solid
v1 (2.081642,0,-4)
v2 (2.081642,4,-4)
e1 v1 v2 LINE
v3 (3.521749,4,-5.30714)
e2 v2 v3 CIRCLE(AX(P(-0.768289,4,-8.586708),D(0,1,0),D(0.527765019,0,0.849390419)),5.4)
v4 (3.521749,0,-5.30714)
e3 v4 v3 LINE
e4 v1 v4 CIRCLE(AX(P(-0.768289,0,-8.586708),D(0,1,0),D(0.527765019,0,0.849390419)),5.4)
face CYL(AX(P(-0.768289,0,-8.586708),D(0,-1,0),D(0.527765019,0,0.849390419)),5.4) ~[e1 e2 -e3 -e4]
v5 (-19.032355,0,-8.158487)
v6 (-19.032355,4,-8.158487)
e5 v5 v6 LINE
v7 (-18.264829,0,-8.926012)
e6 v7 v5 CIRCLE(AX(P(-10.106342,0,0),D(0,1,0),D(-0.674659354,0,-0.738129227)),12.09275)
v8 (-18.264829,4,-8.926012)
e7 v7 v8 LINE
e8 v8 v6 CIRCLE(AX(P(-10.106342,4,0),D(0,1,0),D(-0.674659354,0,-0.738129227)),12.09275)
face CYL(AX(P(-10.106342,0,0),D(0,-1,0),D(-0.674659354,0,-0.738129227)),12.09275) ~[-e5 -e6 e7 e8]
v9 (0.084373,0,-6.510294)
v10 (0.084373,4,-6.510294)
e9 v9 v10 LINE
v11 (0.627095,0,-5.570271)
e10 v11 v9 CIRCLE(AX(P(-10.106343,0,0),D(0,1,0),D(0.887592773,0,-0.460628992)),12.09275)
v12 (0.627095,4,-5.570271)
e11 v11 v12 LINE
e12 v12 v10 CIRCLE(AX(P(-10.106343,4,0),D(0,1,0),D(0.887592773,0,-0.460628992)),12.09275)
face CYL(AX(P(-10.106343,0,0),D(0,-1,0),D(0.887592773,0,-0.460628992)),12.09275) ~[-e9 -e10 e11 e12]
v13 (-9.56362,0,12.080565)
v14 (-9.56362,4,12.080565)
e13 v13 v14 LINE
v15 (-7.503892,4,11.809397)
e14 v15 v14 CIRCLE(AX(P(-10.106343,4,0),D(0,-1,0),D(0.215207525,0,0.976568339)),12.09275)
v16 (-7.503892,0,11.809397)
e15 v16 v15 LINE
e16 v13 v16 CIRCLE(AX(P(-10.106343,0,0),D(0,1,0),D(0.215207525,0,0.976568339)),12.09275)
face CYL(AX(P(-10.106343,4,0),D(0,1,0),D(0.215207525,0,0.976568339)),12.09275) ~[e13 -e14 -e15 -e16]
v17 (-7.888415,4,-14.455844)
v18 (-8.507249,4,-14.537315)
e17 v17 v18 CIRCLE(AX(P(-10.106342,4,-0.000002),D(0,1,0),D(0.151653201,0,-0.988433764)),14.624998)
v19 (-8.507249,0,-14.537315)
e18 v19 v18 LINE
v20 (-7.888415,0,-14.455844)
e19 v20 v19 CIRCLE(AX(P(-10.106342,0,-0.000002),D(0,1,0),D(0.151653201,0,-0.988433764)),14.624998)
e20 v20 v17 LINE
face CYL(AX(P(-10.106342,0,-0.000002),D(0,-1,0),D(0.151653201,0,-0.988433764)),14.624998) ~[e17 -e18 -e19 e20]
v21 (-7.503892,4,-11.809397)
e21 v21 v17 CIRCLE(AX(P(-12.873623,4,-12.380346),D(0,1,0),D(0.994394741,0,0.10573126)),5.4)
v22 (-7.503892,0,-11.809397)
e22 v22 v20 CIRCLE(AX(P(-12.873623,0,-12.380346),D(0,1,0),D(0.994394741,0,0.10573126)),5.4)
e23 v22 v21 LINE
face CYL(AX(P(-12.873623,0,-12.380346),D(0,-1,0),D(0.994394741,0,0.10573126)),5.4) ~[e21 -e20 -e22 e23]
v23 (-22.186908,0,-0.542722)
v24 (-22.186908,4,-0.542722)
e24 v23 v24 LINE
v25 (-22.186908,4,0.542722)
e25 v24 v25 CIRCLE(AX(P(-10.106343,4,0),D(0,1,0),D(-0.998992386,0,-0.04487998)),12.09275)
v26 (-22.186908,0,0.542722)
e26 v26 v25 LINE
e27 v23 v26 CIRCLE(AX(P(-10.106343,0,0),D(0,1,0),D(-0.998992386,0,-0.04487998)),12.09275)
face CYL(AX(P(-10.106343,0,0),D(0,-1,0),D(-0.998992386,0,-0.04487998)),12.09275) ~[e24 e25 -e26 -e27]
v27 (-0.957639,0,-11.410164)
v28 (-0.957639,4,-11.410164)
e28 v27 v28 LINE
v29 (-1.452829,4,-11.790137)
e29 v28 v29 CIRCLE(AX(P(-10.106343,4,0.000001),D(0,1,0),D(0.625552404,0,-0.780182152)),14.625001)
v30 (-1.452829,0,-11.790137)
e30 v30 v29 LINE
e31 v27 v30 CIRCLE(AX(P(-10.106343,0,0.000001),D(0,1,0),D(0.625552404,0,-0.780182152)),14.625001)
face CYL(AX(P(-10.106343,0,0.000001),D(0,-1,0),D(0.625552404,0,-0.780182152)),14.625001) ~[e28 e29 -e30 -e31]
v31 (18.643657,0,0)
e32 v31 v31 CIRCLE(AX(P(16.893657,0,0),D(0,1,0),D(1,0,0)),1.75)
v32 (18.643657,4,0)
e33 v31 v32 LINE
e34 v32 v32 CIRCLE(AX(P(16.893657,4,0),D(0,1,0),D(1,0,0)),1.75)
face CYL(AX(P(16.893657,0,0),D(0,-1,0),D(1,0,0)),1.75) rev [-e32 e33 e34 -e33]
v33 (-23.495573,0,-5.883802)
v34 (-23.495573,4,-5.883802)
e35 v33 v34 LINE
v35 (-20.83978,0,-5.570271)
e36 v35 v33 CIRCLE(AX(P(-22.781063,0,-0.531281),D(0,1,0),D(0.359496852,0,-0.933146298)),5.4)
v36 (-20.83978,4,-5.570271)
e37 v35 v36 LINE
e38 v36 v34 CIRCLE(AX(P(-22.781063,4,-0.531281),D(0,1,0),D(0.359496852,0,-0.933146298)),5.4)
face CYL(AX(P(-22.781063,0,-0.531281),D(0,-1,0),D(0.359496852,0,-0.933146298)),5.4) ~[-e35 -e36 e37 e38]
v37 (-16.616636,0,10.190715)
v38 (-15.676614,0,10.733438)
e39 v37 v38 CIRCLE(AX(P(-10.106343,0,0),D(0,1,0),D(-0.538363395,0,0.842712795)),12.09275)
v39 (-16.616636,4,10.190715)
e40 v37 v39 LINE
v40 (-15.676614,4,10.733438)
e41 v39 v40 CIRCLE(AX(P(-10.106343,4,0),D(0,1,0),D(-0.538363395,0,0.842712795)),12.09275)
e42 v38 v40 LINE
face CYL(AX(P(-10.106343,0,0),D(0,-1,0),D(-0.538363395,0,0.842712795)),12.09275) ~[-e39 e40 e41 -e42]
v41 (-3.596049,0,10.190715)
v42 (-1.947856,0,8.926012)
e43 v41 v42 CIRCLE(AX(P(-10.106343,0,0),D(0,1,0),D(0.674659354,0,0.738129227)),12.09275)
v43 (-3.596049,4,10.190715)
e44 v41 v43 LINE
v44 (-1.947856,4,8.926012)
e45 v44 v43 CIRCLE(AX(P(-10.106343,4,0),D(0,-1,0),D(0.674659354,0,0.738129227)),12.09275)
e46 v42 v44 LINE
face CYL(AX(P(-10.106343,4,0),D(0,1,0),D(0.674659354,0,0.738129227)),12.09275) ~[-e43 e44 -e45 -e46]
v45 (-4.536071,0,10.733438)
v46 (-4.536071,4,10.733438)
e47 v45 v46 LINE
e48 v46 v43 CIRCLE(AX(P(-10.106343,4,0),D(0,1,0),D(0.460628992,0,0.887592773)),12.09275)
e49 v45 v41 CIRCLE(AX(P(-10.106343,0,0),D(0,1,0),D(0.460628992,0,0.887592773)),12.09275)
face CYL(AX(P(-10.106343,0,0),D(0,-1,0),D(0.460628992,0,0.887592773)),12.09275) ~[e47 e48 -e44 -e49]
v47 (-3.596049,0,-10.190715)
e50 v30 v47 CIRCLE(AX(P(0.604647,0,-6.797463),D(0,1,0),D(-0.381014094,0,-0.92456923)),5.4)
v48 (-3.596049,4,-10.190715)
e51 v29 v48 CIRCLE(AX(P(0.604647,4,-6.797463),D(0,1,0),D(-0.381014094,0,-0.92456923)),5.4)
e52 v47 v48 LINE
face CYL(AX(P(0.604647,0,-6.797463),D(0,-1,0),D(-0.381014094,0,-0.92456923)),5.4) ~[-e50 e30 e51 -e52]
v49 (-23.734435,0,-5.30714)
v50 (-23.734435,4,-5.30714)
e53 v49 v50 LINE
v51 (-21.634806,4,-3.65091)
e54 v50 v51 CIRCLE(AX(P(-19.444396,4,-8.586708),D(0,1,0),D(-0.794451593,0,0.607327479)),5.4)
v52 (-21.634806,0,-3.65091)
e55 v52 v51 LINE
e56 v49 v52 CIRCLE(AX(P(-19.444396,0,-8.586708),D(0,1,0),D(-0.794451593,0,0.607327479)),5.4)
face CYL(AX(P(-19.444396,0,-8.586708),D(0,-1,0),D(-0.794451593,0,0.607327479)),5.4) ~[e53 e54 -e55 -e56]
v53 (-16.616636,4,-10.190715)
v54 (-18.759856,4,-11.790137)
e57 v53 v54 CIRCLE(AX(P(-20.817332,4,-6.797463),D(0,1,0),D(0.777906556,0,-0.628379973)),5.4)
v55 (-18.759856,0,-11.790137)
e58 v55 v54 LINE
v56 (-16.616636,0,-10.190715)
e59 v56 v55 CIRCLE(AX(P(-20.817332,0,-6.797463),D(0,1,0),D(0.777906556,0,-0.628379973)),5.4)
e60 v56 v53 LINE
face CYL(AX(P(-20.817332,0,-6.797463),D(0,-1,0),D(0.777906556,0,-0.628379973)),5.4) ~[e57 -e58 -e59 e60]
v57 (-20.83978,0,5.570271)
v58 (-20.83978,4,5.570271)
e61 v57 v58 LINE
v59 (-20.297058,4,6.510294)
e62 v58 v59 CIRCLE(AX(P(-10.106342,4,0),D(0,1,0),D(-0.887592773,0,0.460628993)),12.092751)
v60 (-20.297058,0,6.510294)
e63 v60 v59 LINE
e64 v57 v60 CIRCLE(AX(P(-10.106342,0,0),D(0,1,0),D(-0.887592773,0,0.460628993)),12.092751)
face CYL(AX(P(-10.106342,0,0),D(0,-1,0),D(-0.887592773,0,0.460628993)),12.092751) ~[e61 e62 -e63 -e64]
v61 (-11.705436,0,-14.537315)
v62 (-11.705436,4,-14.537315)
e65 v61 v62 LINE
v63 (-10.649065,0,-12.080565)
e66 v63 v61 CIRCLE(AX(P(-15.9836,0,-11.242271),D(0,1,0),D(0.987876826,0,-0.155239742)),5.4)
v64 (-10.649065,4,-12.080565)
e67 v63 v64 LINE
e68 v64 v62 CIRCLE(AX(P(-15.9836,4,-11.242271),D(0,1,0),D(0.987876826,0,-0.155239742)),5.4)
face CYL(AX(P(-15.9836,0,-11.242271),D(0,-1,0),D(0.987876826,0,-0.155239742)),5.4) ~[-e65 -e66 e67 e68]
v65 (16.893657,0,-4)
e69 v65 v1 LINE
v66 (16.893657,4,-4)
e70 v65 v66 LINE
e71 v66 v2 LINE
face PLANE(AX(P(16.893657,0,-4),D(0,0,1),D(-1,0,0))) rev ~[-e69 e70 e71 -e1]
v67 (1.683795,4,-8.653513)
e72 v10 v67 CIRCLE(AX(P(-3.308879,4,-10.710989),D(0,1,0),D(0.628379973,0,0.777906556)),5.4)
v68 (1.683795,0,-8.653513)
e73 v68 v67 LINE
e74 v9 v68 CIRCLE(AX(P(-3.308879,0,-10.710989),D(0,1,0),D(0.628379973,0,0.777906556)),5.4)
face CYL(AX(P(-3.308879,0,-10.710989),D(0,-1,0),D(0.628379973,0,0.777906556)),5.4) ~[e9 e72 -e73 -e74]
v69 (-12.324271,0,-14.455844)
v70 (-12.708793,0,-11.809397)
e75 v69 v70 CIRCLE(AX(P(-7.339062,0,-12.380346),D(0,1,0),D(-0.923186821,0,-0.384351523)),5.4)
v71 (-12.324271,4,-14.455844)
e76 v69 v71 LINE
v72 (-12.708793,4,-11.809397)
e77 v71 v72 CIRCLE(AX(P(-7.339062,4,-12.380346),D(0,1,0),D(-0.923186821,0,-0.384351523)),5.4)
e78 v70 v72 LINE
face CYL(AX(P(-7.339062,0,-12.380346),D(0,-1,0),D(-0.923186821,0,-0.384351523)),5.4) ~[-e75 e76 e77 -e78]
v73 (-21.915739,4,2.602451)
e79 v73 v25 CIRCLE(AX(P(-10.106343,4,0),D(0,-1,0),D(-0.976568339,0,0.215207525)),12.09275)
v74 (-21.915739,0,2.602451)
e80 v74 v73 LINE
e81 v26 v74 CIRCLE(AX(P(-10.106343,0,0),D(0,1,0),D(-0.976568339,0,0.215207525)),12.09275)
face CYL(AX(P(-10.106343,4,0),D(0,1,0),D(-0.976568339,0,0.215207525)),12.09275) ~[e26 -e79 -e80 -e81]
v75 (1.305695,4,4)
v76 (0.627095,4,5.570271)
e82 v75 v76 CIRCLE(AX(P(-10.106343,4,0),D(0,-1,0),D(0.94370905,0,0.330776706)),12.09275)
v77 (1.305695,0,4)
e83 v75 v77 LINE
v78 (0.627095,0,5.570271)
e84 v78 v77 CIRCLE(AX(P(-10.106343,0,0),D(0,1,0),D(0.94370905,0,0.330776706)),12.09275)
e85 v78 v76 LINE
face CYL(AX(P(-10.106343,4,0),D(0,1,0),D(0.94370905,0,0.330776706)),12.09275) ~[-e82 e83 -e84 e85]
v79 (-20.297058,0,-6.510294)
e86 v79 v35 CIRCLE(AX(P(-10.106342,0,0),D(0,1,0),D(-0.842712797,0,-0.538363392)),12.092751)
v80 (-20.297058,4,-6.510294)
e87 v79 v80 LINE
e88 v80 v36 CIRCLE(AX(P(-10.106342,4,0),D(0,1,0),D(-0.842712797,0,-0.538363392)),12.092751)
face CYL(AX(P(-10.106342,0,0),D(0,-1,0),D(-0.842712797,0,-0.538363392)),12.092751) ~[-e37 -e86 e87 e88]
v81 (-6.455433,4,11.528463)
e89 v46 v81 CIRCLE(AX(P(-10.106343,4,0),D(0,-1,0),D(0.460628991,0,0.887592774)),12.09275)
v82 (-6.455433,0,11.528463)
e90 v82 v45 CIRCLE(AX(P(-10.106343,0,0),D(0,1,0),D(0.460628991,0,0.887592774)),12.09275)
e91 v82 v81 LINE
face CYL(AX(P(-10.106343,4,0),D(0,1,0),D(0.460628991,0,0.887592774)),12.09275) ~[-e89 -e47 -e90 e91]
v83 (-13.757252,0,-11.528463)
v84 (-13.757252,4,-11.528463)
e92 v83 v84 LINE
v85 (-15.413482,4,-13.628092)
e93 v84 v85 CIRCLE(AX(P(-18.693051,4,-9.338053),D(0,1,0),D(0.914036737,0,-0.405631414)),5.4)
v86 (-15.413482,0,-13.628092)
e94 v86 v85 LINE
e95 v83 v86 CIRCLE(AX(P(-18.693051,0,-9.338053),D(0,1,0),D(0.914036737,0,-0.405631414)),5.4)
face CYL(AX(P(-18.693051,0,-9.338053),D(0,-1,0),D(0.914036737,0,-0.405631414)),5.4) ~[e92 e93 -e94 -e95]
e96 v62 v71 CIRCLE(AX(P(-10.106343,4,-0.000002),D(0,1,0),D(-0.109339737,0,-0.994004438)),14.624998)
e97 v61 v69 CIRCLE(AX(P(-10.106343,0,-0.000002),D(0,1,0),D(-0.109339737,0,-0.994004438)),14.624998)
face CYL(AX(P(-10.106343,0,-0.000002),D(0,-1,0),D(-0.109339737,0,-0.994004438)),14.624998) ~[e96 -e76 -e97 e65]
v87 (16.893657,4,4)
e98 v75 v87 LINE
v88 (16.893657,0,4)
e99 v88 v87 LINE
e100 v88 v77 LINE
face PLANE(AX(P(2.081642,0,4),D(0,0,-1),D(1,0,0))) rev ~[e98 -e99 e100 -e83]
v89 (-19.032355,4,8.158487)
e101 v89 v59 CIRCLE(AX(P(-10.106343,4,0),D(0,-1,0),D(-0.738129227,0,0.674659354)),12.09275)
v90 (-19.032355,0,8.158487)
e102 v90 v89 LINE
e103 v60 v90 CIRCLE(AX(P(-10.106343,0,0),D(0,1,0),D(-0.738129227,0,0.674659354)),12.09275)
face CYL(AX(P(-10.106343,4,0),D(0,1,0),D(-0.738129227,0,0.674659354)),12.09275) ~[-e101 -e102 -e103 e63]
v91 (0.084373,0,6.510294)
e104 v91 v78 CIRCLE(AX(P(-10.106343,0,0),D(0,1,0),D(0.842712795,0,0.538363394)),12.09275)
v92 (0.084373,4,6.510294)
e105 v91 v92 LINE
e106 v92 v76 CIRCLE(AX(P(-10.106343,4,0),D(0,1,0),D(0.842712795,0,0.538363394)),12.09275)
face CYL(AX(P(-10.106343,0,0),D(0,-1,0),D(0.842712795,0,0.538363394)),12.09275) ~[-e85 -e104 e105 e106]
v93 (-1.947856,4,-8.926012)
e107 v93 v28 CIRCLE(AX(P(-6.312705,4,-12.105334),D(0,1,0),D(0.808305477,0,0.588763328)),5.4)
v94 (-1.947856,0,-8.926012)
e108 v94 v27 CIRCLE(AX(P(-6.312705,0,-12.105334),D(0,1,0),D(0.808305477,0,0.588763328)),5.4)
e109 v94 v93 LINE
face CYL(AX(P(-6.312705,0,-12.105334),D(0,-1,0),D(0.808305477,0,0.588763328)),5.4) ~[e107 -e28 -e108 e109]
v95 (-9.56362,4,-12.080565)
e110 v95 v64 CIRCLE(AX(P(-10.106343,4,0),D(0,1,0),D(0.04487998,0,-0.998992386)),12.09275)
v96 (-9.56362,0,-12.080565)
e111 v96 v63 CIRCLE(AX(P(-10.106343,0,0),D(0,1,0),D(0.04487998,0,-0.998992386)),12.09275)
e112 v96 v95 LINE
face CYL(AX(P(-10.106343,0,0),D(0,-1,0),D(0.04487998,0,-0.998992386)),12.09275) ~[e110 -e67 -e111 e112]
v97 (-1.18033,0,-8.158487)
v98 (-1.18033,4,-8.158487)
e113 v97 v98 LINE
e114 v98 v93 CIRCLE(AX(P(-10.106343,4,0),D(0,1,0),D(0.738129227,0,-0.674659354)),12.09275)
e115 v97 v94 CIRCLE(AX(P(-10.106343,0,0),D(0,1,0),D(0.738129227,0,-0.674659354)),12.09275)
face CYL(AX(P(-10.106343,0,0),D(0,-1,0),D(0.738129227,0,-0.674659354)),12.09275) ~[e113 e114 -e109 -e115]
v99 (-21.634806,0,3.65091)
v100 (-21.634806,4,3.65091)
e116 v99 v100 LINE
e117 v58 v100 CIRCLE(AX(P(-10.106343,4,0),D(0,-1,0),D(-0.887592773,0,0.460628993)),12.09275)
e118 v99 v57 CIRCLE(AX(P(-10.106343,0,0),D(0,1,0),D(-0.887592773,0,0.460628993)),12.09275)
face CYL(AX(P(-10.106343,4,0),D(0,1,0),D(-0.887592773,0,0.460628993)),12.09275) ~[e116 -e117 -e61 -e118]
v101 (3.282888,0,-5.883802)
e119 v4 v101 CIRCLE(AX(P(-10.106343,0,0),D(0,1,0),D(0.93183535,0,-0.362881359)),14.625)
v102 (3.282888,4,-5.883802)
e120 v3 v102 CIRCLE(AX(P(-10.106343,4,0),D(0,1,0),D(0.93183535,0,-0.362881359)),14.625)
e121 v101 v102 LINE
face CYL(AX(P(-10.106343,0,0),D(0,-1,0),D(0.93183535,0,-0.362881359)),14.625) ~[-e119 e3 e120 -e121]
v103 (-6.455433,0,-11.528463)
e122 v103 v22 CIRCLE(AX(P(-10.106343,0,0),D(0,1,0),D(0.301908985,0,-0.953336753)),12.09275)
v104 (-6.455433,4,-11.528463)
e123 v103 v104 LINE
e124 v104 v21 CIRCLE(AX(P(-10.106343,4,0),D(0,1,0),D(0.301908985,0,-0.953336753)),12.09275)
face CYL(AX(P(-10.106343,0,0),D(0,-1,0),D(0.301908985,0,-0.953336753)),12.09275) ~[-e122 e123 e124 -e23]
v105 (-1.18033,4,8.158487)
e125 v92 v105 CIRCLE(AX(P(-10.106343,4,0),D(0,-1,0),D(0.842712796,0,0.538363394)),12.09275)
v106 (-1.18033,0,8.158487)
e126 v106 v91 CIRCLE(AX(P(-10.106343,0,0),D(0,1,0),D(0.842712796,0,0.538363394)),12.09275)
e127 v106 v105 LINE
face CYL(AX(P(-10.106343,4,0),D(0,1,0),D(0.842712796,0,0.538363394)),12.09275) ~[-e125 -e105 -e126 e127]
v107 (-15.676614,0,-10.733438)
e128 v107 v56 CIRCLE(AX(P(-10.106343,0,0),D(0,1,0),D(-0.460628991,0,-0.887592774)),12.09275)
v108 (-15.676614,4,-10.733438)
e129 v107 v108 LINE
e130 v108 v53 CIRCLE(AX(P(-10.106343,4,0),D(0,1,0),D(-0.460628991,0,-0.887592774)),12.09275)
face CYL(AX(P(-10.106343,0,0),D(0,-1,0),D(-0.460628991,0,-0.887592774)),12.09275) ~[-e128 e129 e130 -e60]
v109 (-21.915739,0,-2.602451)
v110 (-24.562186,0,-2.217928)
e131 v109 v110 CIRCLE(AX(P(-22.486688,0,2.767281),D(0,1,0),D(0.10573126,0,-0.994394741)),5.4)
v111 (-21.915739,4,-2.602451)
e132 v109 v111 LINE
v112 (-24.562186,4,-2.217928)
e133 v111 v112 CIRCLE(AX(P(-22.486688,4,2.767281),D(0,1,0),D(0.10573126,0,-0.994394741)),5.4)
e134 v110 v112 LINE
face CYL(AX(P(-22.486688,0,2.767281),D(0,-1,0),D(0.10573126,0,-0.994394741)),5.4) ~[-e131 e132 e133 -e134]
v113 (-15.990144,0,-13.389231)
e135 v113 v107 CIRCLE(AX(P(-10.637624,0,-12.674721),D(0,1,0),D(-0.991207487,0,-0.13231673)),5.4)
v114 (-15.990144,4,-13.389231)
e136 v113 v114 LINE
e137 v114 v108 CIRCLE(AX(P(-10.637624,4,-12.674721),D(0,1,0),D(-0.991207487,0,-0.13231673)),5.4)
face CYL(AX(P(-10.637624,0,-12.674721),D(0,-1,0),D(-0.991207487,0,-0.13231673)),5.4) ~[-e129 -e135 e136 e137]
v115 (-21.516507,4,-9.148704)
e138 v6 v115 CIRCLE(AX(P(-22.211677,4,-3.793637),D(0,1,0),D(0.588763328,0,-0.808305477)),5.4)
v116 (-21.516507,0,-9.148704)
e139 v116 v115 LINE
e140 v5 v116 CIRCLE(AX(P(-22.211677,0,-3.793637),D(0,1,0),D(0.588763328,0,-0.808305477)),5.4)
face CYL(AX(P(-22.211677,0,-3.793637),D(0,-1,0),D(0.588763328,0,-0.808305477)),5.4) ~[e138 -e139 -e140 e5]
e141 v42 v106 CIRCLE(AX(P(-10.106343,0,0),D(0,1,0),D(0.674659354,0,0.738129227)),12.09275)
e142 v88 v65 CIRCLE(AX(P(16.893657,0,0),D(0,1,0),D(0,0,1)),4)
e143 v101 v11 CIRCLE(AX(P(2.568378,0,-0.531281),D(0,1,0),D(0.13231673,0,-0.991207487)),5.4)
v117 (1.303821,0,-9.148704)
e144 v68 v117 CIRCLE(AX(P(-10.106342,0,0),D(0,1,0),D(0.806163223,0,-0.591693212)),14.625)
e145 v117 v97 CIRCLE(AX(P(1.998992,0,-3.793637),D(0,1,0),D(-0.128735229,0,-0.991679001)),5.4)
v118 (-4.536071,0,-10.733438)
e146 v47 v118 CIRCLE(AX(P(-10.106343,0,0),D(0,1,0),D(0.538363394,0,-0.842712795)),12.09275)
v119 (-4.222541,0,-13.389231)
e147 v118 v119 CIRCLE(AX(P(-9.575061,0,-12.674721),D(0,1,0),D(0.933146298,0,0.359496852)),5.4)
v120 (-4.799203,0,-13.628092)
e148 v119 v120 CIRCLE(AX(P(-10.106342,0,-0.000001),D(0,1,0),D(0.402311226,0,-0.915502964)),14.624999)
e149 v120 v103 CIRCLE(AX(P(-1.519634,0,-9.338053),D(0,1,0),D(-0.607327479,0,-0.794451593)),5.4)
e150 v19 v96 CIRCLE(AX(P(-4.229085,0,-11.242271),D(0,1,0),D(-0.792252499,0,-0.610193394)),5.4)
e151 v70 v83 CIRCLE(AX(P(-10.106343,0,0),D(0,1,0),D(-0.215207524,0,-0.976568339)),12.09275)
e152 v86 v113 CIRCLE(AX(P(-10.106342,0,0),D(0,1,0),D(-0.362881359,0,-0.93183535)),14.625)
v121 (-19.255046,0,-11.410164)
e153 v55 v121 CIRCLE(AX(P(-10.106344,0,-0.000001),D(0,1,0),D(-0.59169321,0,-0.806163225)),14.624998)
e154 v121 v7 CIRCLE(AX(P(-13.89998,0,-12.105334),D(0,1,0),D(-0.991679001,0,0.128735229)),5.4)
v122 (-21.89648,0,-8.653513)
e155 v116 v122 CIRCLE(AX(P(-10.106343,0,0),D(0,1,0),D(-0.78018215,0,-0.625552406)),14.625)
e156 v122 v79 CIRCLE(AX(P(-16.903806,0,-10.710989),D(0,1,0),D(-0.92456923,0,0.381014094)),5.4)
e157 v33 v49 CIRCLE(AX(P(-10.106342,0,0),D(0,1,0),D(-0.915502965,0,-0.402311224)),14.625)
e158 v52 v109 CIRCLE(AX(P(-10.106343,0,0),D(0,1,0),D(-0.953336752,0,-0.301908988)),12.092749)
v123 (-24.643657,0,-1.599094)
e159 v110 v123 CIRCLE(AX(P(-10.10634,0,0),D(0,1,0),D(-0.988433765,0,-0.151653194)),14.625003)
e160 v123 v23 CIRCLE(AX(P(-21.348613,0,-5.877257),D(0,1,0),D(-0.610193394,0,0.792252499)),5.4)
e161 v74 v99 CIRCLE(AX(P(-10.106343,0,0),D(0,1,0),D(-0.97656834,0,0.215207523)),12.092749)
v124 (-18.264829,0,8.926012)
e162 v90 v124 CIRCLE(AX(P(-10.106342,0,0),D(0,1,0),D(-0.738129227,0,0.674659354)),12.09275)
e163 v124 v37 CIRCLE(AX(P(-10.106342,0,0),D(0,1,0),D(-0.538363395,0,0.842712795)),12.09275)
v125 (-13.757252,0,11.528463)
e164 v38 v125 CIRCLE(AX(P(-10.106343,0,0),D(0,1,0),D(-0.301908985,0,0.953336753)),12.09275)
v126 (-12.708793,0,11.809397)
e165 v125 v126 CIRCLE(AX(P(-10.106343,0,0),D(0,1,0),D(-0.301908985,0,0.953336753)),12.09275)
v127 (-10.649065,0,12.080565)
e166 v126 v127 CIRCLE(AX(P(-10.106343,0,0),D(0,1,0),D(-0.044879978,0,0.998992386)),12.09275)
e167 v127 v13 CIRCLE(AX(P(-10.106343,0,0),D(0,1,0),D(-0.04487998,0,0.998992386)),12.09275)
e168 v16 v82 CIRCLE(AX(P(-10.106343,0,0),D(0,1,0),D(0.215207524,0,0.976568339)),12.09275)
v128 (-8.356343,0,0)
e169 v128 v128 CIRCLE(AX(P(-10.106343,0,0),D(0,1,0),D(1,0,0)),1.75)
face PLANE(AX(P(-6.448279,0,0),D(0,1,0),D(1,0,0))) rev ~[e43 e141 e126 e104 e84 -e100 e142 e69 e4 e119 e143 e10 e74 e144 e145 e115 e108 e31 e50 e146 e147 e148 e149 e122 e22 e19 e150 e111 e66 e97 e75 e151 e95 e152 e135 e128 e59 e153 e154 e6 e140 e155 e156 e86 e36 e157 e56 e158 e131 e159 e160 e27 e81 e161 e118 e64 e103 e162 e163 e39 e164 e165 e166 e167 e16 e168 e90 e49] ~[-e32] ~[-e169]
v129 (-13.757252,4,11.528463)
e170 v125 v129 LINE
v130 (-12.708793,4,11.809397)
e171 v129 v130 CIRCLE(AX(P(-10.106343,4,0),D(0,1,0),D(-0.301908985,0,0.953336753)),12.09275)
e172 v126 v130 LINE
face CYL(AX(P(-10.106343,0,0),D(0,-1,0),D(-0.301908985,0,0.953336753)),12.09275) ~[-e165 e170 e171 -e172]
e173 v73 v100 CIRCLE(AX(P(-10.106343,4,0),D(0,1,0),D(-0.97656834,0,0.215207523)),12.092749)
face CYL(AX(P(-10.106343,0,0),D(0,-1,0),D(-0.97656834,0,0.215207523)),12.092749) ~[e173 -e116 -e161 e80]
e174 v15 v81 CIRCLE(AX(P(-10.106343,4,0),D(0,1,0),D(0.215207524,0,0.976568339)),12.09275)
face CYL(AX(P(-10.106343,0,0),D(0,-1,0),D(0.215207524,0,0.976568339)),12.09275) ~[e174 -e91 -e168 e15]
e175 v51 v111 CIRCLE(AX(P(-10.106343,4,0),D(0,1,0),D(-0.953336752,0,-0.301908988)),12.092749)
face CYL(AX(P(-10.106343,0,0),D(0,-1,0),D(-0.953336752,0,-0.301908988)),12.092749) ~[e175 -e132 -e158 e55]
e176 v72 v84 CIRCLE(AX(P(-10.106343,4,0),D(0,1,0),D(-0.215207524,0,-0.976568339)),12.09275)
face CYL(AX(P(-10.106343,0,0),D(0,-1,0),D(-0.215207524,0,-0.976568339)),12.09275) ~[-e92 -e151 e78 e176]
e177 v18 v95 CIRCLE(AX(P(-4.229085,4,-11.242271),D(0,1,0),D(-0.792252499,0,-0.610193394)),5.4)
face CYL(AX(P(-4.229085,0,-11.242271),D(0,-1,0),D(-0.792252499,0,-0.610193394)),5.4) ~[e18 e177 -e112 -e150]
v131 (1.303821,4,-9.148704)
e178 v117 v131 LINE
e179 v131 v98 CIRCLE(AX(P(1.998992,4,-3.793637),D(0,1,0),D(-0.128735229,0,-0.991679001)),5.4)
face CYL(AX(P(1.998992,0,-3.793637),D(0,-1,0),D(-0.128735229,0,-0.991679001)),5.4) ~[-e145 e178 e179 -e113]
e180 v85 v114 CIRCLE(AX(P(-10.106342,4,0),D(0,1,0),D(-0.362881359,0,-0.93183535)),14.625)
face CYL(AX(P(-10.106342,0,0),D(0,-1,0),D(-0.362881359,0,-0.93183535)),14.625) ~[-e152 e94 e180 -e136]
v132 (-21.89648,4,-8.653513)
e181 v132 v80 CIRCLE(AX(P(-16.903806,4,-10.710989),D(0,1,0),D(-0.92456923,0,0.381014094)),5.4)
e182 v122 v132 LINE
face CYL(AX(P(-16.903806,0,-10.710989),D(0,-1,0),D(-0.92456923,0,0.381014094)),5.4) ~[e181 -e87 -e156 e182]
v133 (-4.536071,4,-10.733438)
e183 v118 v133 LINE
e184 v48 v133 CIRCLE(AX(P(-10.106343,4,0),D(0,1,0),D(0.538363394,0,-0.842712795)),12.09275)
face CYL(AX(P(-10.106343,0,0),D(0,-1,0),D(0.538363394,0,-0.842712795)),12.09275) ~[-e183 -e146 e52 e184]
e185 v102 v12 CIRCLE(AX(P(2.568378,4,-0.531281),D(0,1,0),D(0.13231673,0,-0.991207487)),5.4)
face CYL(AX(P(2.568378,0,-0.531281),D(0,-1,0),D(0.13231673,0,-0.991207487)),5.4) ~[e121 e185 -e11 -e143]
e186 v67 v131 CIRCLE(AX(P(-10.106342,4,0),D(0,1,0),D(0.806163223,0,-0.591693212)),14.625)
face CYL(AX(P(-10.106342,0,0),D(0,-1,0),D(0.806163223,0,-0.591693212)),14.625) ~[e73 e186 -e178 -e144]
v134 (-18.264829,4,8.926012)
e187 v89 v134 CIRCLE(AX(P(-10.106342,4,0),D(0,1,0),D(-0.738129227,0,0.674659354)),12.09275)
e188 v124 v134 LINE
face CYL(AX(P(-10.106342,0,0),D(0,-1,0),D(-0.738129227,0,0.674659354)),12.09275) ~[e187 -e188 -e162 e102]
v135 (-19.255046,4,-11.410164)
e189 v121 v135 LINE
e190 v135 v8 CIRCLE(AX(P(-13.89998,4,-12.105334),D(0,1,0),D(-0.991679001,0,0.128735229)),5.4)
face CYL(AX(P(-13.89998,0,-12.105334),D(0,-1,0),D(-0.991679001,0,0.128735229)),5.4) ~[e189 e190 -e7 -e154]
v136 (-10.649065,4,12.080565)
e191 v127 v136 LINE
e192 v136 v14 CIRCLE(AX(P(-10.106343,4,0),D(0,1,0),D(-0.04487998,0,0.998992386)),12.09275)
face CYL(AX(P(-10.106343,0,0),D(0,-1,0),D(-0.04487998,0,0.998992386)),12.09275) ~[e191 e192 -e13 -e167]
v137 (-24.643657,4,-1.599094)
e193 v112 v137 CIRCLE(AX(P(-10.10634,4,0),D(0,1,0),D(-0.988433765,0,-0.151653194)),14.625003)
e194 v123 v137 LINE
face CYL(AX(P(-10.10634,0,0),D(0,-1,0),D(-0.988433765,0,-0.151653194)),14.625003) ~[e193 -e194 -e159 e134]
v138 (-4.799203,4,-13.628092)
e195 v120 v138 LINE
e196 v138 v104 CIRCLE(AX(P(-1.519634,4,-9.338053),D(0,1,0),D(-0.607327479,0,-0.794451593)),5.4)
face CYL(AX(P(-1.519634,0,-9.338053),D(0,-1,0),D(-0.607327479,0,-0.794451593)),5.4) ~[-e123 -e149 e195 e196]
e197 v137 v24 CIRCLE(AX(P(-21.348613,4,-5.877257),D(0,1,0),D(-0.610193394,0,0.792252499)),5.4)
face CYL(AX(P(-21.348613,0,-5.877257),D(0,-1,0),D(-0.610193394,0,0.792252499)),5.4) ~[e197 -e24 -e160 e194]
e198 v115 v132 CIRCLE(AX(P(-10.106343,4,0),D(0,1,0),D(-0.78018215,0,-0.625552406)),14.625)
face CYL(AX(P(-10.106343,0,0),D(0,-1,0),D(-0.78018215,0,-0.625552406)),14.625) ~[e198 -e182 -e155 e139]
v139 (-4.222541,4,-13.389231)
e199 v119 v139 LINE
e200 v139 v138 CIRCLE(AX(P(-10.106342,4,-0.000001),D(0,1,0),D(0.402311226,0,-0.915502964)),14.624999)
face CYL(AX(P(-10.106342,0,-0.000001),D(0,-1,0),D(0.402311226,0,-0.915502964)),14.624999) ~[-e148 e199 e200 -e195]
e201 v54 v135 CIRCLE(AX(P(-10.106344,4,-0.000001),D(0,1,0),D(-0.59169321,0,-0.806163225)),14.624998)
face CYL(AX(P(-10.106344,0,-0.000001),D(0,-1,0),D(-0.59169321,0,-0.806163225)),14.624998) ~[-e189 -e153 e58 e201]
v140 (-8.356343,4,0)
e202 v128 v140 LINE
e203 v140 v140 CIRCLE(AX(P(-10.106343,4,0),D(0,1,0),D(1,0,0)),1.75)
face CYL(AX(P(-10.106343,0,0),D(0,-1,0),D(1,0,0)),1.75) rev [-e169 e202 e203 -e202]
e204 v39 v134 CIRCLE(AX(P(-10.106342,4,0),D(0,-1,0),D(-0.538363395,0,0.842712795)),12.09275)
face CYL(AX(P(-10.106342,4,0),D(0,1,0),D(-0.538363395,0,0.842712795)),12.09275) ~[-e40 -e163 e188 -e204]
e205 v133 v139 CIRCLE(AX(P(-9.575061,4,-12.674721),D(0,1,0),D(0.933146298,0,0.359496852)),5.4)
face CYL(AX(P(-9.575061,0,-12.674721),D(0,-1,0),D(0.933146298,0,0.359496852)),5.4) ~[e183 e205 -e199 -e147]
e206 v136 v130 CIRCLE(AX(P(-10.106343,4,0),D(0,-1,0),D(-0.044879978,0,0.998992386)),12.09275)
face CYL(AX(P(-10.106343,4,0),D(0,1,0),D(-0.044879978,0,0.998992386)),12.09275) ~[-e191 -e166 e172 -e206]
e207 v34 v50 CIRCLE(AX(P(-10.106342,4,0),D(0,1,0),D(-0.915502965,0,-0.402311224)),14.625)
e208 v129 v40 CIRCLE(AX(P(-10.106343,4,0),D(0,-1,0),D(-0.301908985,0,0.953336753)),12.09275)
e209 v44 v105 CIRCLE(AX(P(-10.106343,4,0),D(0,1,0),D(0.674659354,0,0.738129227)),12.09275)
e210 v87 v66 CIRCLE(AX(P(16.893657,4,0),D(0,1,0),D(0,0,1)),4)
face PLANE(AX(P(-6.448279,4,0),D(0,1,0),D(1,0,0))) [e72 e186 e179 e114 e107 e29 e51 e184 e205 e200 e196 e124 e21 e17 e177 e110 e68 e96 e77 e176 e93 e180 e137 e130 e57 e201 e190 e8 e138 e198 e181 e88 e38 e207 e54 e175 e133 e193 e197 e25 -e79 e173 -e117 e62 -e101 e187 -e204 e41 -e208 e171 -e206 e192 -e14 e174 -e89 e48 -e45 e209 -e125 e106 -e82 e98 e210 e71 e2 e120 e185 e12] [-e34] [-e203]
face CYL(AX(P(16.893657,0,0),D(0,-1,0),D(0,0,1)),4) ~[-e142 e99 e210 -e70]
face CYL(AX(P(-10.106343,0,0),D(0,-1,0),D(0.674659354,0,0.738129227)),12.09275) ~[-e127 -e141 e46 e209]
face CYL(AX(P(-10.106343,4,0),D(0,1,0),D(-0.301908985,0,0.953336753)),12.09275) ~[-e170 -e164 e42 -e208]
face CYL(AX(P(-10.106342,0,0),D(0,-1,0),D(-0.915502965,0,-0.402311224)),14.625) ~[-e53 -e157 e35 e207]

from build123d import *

# Parameters (mm, degrees)
SKETCH1_R           = 1.75
BOSS_EXTRUDE1_DEPTH = 4
CUT_EXTRUDE1_DEPTH  = 10


with BuildPart() as part:
    # Sketch1 → Boss-Extrude1 (new body)
    with BuildSketch(Plane(origin=(0, 0, 0), x_dir=(1, 0, 0), z_dir=(0, 1, 0))):
        with BuildLine():
            Line((16.893657446, 4), (2.081641936, 4))
            ThreePointArc((2.081641936, 4), (2.861028333, 4.588201733), (3.521749436, 5.30713988))
            ThreePointArc((3.521749436, 5.30713988), (3.405395609, 5.596745198), (3.282888305, 5.883801663))
            ThreePointArc((3.282888305, 5.883801663), (1.93527598, 5.894040025), (0.627094961, 5.57027124))
            ThreePointArc((0.627094961, 5.57027124), (0.366286148, 6.046375), (0.084372603, 6.510293938))
            ThreePointArc((0.084372603, 6.510293938), (1.018855105, 7.48132754), (1.683794586, 8.65351323))
            ThreePointArc((1.683794586, 8.65351323), (1.496450048, 8.903135899), (1.303821399, 9.148703928))
            ThreePointArc((1.303821399, 9.148703928), (-0.000522033, 8.809805691), (-1.180330337, 8.158486898))
            ThreePointArc((-1.180330337, 8.158486898), (-1.555477026, 8.550865528), (-1.947855656, 8.926012217))
            ThreePointArc((-1.947855656, 8.926012217), (-1.296536862, 10.105820521), (-0.957638625, 11.410163953))
            ThreePointArc((-0.957638625, 11.410163953), (-1.203206655, 11.602792602), (-1.452829324, 11.79013714))
            ThreePointArc((-1.452829324, 11.79013714), (-2.625015014, 11.125197659), (-3.596048616, 10.190715157))
            ThreePointArc((-3.596048616, 10.190715157), (-4.059967554, 10.472628702), (-4.536071314, 10.733437515))
            ThreePointArc((-4.536071314, 10.733437515), (-4.212302529, 12.041618533), (-4.222540891, 13.389230859))
            ThreePointArc((-4.222540891, 13.389230859), (-4.509597355, 13.511738163), (-4.799202674, 13.62809199))
            ThreePointArc((-4.799202674, 13.62809199), (-5.759348103, 12.682425791), (-6.455432668, 11.528463019))
            ThreePointArc((-6.455432668, 11.528463019), (-6.976508546, 11.680699536), (-7.503891752, 11.809396783))
            ThreePointArc((-7.503891752, 11.809396783), (-7.529737283, 13.156800143), (-7.888414517, 14.455843809))
            ThreePointArc((-7.888414517, 14.455843809), (-8.197396993, 14.499881098), (-8.507248835, 14.537314892))
            ThreePointArc((-8.507248835, 14.537314892), (-9.18992168, 13.375367565), (-9.563620196, 12.080565177))
            ThreePointArc((-9.563620196, 12.080565177), (-10.106342554, 12.09275), (-10.649064912, 12.080565177))
            ThreePointArc((-10.649064912, 12.080565177), (-11.022763428, 13.375367565), (-11.705436272, 14.537314892))
            ThreePointArc((-11.705436272, 14.537314892), (-12.015288115, 14.499881098), (-12.324270591, 14.455843809))
            ThreePointArc((-12.324270591, 14.455843809), (-12.682947825, 13.156800143), (-12.708793355, 11.809396783))
            ThreePointArc((-12.708793355, 11.809396783), (-13.236176561, 11.680699536), (-13.757252439, 11.528463019))
            ThreePointArc((-13.757252439, 11.528463019), (-14.453337005, 12.682425791), (-15.413482434, 13.62809199))
            ThreePointArc((-15.413482434, 13.62809199), (-15.703087752, 13.511738163), (-15.990144217, 13.389230859))
            ThreePointArc((-15.990144217, 13.389230859), (-16.000382579, 12.041618533), (-15.676613793, 10.733437515))
            ThreePointArc((-15.676613793, 10.733437515), (-16.152717554, 10.472628702), (-16.616636492, 10.190715157))
            ThreePointArc((-16.616636492, 10.190715157), (-17.587670094, 11.125197659), (-18.759855783, 11.79013714))
            ThreePointArc((-18.759855783, 11.79013714), (-19.009478453, 11.602792602), (-19.255046482, 11.410163953))
            ThreePointArc((-19.255046482, 11.410163953), (-18.916148245, 10.105820521), (-18.264829452, 8.926012217))
            ThreePointArc((-18.264829452, 8.926012217), (-18.657208082, 8.550865528), (-19.032354771, 8.158486898))
            ThreePointArc((-19.032354771, 8.158486898), (-20.212163074, 8.809805691), (-21.516506507, 9.148703928))
            ThreePointArc((-21.516506507, 9.148703928), (-21.709135156, 8.903135899), (-21.896479694, 8.65351323))
            ThreePointArc((-21.896479694, 8.65351323), (-21.231540213, 7.48132754), (-20.297057711, 6.510293938))
            ThreePointArc((-20.297057711, 6.510293938), (-20.578971255, 6.046375), (-20.839780068, 5.57027124))
            ThreePointArc((-20.839780068, 5.57027124), (-22.147961087, 5.894040025), (-23.495573413, 5.883801663))
            ThreePointArc((-23.495573413, 5.883801663), (-23.618080717, 5.596745198), (-23.734434544, 5.30713988))
            ThreePointArc((-23.734434544, 5.30713988), (-22.788768345, 4.346994451), (-21.634805572, 3.650909885))
            ThreePointArc((-21.634805572, 3.650909885), (-21.78704209, 3.129834008), (-21.915739337, 2.602450802))
            ThreePointArc((-21.915739337, 2.602450802), (-23.263142697, 2.576605271), (-24.562186363, 2.217928037))
            ThreePointArc((-24.562186363, 2.217928037), (-24.606223651, 1.908945561), (-24.643657446, 1.599093719))
            ThreePointArc((-24.643657446, 1.599093719), (-23.481710119, 0.916420874), (-22.186907731, 0.542722358))
            ThreePointArc((-22.186907731, 0.542722358), (-22.199092554, 0), (-22.186907731, -0.542722358))
            ThreePointArc((-22.186907731, -0.542722358), (-23.481710119, -0.916420874), (-24.643657446, -1.599093719))
            ThreePointArc((-24.643657446, -1.599093719), (-24.606223651, -1.908945561), (-24.562186363, -2.217928037))
            ThreePointArc((-24.562186363, -2.217928037), (-23.263142697, -2.576605271), (-21.915739337, -2.602450802))
            ThreePointArc((-21.915739337, -2.602450802), (-21.78704209, -3.129834008), (-21.634805572, -3.650909885))
            ThreePointArc((-21.634805572, -3.650909885), (-22.788768345, -4.346994451), (-23.734434544, -5.30713988))
            ThreePointArc((-23.734434544, -5.30713988), (-23.618080717, -5.596745198), (-23.495573413, -5.883801663))
            ThreePointArc((-23.495573413, -5.883801663), (-22.147961087, -5.894040025), (-20.839780068, -5.57027124))
            ThreePointArc((-20.839780068, -5.57027124), (-20.578971255, -6.046375), (-20.297057711, -6.510293938))
            ThreePointArc((-20.297057711, -6.510293938), (-21.231540213, -7.48132754), (-21.896479694, -8.65351323))
            ThreePointArc((-21.896479694, -8.65351323), (-21.709135156, -8.903135899), (-21.516506507, -9.148703928))
            ThreePointArc((-21.516506507, -9.148703928), (-20.212163074, -8.809805691), (-19.032354771, -8.158486898))
            ThreePointArc((-19.032354771, -8.158486898), (-18.657208082, -8.550865528), (-18.264829452, -8.926012217))
            ThreePointArc((-18.264829452, -8.926012217), (-18.916148245, -10.105820521), (-19.255046482, -11.410163953))
            ThreePointArc((-19.255046482, -11.410163953), (-19.009478453, -11.602792602), (-18.759855783, -11.79013714))
            ThreePointArc((-18.759855783, -11.79013714), (-17.587670094, -11.125197659), (-16.616636492, -10.190715157))
            ThreePointArc((-16.616636492, -10.190715157), (-16.152717554, -10.472628702), (-15.676613793, -10.733437515))
            ThreePointArc((-15.676613793, -10.733437515), (-16.000382579, -12.041618533), (-15.990144217, -13.389230859))
            ThreePointArc((-15.990144217, -13.389230859), (-15.703087752, -13.511738163), (-15.413482434, -13.62809199))
            ThreePointArc((-15.413482434, -13.62809199), (-14.453337005, -12.682425791), (-13.757252439, -11.528463019))
            ThreePointArc((-13.757252439, -11.528463019), (-13.236176561, -11.680699536), (-12.708793355, -11.809396783))
            ThreePointArc((-12.708793355, -11.809396783), (-12.682947825, -13.156800143), (-12.324270591, -14.455843809))
            ThreePointArc((-12.324270591, -14.455843809), (-12.015288115, -14.499881098), (-11.705436272, -14.537314892))
            ThreePointArc((-11.705436272, -14.537314892), (-11.022763428, -13.375367565), (-10.649064912, -12.080565177))
            ThreePointArc((-10.649064912, -12.080565177), (-10.106342554, -12.09275), (-9.563620196, -12.080565177))
            ThreePointArc((-9.563620196, -12.080565177), (-9.18992168, -13.375367565), (-8.507248835, -14.537314892))
            ThreePointArc((-8.507248835, -14.537314892), (-8.197396993, -14.499881098), (-7.888414517, -14.455843809))
            ThreePointArc((-7.888414517, -14.455843809), (-7.529737283, -13.156800143), (-7.503891752, -11.809396783))
            ThreePointArc((-7.503891752, -11.809396783), (-6.976508546, -11.680699536), (-6.455432668, -11.528463019))
            ThreePointArc((-6.455432668, -11.528463019), (-5.759348103, -12.682425791), (-4.799202674, -13.62809199))
            ThreePointArc((-4.799202674, -13.62809199), (-4.509597355, -13.511738163), (-4.222540891, -13.389230859))
            ThreePointArc((-4.222540891, -13.389230859), (-4.212302529, -12.041618533), (-4.536071314, -10.733437515))
            ThreePointArc((-4.536071314, -10.733437515), (-4.059967554, -10.472628702), (-3.596048616, -10.190715157))
            ThreePointArc((-3.596048616, -10.190715157), (-2.625015014, -11.125197659), (-1.452829324, -11.79013714))
            ThreePointArc((-1.452829324, -11.79013714), (-1.203206655, -11.602792602), (-0.957638625, -11.410163953))
            ThreePointArc((-0.957638625, -11.410163953), (-1.296536862, -10.105820521), (-1.947855656, -8.926012217))
            ThreePointArc((-1.947855656, -8.926012217), (-1.555477026, -8.550865528), (-1.180330337, -8.158486898))
            ThreePointArc((-1.180330337, -8.158486898), (-0.000522033, -8.809805691), (1.303821399, -9.148703928))
            ThreePointArc((1.303821399, -9.148703928), (1.496450048, -8.903135899), (1.683794586, -8.65351323))
            ThreePointArc((1.683794586, -8.65351323), (1.018855105, -7.48132754), (0.084372603, -6.510293938))
            ThreePointArc((0.084372603, -6.510293938), (0.366286148, -6.046375), (0.627094961, -5.57027124))
            ThreePointArc((0.627094961, -5.57027124), (1.93527598, -5.894040025), (3.282888305, -5.883801663))
            ThreePointArc((3.282888305, -5.883801663), (3.405395609, -5.596745198), (3.521749436, -5.30713988))
            ThreePointArc((3.521749436, -5.30713988), (2.861028333, -4.588201733), (2.081641936, -4))
            Line((2.081641936, -4), (16.893657446, -4))
            ThreePointArc((16.893657446, -4), (20.893657446, 0), (16.893657446, 4))
        make_face()
        with Locations((-10.106342554, 0)):
            Circle(SKETCH1_R, mode=Mode.SUBTRACT)
        with Locations((16.893657446, 0)):
            Circle(SKETCH1_R, mode=Mode.SUBTRACT)
    extrude(amount=BOSS_EXTRUDE1_DEPTH)

    # Sketch2 → Cut-Extrude1 (cut)
    with BuildSketch(Plane(origin=(0, 4, 0), x_dir=(1, 0, 0), z_dir=(0, 1, 0))):
        with BuildLine():
            ThreePointArc((-24.562186363, -2.217928037), (-23.263142697, -2.576605271), (-21.915739337, -2.602450802))
            ThreePointArc((-21.915739337, -2.602450802), (-22.095637401, -1.578420611), (-22.186907731, -0.542722358))
            ThreePointArc((-22.186907731, -0.542722358), (-23.481710119, -0.916420874), (-24.643657446, -1.599093719))
            ThreePointArc((-24.643657446, -1.599093719), (-24.606223651, -1.908945561), (-24.562186363, -2.217928037))
        make_face()
        with BuildLine():
            ThreePointArc((-23.495573413, -5.883801663), (-22.147961087, -5.894040025), (-20.839780068, -5.57027124))
            ThreePointArc((-20.839780068, -5.57027124), (-21.278586771, -4.627695077), (-21.634805572, -3.650909885))
            ThreePointArc((-21.634805572, -3.650909885), (-22.788768345, -4.346994451), (-23.734434544, -5.30713988))
            ThreePointArc((-23.734434544, -5.30713988), (-23.618080717, -5.596745198), (-23.495573413, -5.883801663))
        make_face()
        with BuildLine():
            ThreePointArc((-21.516506507, -9.148703928), (-20.212163074, -8.809805691), (-19.032354771, -8.158486898))
            ThreePointArc((-19.032354771, -8.158486898), (-19.70016616, -7.361599771), (-20.297057711, -6.510293938))
            ThreePointArc((-20.297057711, -6.510293938), (-21.231540213, -7.48132754), (-21.896479694, -8.65351323))
            ThreePointArc((-21.896479694, -8.65351323), (-21.709135156, -8.903135899), (-21.516506507, -9.148703928))
        make_face()
        with BuildLine():
            ThreePointArc((-18.759855783, -11.79013714), (-17.587670094, -11.125197659), (-16.616636492, -10.190715157))
            ThreePointArc((-16.616636492, -10.190715157), (-17.467942324, -9.593823606), (-18.264829452, -8.926012217))
            ThreePointArc((-18.264829452, -8.926012217), (-18.916148245, -10.105820521), (-19.255046482, -11.410163953))
            ThreePointArc((-19.255046482, -11.410163953), (-19.009478453, -11.602792602), (-18.759855783, -11.79013714))
        make_face()
        with BuildLine():
            ThreePointArc((-15.413482434, -13.62809199), (-14.453337005, -12.682425791), (-13.757252439, -11.528463019))
            ThreePointArc((-13.757252439, -11.528463019), (-14.734037631, -11.172244217), (-15.676613793, -10.733437515))
            ThreePointArc((-15.676613793, -10.733437515), (-16.000382579, -12.041618533), (-15.990144217, -13.389230859))
            ThreePointArc((-15.990144217, -13.389230859), (-15.703087752, -13.511738163), (-15.413482434, -13.62809199))
        make_face()
        with BuildLine():
            ThreePointArc((-11.705436272, -14.537314892), (-11.022763428, -13.375367565), (-10.649064912, -12.080565177))
            ThreePointArc((-10.649064912, -12.080565177), (-11.684763165, -11.989294847), (-12.708793355, -11.809396783))
            ThreePointArc((-12.708793355, -11.809396783), (-12.682947825, -13.156800143), (-12.324270591, -14.455843809))
            ThreePointArc((-12.324270591, -14.455843809), (-12.015288115, -14.499881098), (-11.705436272, -14.537314892))
        make_face()
        with BuildLine():
            ThreePointArc((-7.888414517, -14.455843809), (-7.529737283, -13.156800143), (-7.503891752, -11.809396783))
            ThreePointArc((-7.503891752, -11.809396783), (-8.527921943, -11.989294847), (-9.563620196, -12.080565177))
            ThreePointArc((-9.563620196, -12.080565177), (-9.18992168, -13.375367565), (-8.507248835, -14.537314892))
            ThreePointArc((-8.507248835, -14.537314892), (-8.197396993, -14.499881098), (-7.888414517, -14.455843809))
        make_face()
        with BuildLine():
            ThreePointArc((-4.222540891, -13.389230859), (-4.212302529, -12.041618533), (-4.536071314, -10.733437515))
            ThreePointArc((-4.536071314, -10.733437515), (-5.478647477, -11.172244217), (-6.455432668, -11.528463019))
            ThreePointArc((-6.455432668, -11.528463019), (-5.759348103, -12.682425791), (-4.799202674, -13.62809199))
            ThreePointArc((-4.799202674, -13.62809199), (-4.509597355, -13.511738163), (-4.222540891, -13.389230859))
        make_face()
        with BuildLine():
            ThreePointArc((-0.957638625, -11.410163953), (-1.296536862, -10.105820521), (-1.947855656, -8.926012217))
            ThreePointArc((-1.947855656, -8.926012217), (-2.744742783, -9.593823606), (-3.596048616, -10.190715157))
            ThreePointArc((-3.596048616, -10.190715157), (-2.625015014, -11.125197659), (-1.452829324, -11.79013714))
            ThreePointArc((-1.452829324, -11.79013714), (-1.203206655, -11.602792602), (-0.957638625, -11.410163953))
        make_face()
        with BuildLine():
            ThreePointArc((1.683794586, -8.65351323), (1.018855105, -7.48132754), (0.084372603, -6.510293938))
            ThreePointArc((0.084372603, -6.510293938), (-0.512518948, -7.361599771), (-1.180330337, -8.158486898))
            ThreePointArc((-1.180330337, -8.158486898), (-0.000522033, -8.809805691), (1.303821399, -9.148703928))
            ThreePointArc((1.303821399, -9.148703928), (1.496450048, -8.903135899), (1.683794586, -8.65351323))
        make_face()
        with BuildLine():
            ThreePointArc((3.521749436, -5.30713988), (2.861028333, -4.588201733), (2.081641936, -4))
            Line((2.081641936, -4), (1.305695063, -4))
            ThreePointArc((1.305695063, -4), (0.994195953, -4.797149927), (0.627094961, -5.57027124))
            ThreePointArc((0.627094961, -5.57027124), (1.93527598, -5.894040025), (3.282888305, -5.883801663))
            ThreePointArc((3.282888305, -5.883801663), (3.405395609, -5.596745198), (3.521749436, -5.30713988))
        make_face()
    extrude(amount=-CUT_EXTRUDE1_DEPTH, mode=Mode.SUBTRACT)


solid = part.part
